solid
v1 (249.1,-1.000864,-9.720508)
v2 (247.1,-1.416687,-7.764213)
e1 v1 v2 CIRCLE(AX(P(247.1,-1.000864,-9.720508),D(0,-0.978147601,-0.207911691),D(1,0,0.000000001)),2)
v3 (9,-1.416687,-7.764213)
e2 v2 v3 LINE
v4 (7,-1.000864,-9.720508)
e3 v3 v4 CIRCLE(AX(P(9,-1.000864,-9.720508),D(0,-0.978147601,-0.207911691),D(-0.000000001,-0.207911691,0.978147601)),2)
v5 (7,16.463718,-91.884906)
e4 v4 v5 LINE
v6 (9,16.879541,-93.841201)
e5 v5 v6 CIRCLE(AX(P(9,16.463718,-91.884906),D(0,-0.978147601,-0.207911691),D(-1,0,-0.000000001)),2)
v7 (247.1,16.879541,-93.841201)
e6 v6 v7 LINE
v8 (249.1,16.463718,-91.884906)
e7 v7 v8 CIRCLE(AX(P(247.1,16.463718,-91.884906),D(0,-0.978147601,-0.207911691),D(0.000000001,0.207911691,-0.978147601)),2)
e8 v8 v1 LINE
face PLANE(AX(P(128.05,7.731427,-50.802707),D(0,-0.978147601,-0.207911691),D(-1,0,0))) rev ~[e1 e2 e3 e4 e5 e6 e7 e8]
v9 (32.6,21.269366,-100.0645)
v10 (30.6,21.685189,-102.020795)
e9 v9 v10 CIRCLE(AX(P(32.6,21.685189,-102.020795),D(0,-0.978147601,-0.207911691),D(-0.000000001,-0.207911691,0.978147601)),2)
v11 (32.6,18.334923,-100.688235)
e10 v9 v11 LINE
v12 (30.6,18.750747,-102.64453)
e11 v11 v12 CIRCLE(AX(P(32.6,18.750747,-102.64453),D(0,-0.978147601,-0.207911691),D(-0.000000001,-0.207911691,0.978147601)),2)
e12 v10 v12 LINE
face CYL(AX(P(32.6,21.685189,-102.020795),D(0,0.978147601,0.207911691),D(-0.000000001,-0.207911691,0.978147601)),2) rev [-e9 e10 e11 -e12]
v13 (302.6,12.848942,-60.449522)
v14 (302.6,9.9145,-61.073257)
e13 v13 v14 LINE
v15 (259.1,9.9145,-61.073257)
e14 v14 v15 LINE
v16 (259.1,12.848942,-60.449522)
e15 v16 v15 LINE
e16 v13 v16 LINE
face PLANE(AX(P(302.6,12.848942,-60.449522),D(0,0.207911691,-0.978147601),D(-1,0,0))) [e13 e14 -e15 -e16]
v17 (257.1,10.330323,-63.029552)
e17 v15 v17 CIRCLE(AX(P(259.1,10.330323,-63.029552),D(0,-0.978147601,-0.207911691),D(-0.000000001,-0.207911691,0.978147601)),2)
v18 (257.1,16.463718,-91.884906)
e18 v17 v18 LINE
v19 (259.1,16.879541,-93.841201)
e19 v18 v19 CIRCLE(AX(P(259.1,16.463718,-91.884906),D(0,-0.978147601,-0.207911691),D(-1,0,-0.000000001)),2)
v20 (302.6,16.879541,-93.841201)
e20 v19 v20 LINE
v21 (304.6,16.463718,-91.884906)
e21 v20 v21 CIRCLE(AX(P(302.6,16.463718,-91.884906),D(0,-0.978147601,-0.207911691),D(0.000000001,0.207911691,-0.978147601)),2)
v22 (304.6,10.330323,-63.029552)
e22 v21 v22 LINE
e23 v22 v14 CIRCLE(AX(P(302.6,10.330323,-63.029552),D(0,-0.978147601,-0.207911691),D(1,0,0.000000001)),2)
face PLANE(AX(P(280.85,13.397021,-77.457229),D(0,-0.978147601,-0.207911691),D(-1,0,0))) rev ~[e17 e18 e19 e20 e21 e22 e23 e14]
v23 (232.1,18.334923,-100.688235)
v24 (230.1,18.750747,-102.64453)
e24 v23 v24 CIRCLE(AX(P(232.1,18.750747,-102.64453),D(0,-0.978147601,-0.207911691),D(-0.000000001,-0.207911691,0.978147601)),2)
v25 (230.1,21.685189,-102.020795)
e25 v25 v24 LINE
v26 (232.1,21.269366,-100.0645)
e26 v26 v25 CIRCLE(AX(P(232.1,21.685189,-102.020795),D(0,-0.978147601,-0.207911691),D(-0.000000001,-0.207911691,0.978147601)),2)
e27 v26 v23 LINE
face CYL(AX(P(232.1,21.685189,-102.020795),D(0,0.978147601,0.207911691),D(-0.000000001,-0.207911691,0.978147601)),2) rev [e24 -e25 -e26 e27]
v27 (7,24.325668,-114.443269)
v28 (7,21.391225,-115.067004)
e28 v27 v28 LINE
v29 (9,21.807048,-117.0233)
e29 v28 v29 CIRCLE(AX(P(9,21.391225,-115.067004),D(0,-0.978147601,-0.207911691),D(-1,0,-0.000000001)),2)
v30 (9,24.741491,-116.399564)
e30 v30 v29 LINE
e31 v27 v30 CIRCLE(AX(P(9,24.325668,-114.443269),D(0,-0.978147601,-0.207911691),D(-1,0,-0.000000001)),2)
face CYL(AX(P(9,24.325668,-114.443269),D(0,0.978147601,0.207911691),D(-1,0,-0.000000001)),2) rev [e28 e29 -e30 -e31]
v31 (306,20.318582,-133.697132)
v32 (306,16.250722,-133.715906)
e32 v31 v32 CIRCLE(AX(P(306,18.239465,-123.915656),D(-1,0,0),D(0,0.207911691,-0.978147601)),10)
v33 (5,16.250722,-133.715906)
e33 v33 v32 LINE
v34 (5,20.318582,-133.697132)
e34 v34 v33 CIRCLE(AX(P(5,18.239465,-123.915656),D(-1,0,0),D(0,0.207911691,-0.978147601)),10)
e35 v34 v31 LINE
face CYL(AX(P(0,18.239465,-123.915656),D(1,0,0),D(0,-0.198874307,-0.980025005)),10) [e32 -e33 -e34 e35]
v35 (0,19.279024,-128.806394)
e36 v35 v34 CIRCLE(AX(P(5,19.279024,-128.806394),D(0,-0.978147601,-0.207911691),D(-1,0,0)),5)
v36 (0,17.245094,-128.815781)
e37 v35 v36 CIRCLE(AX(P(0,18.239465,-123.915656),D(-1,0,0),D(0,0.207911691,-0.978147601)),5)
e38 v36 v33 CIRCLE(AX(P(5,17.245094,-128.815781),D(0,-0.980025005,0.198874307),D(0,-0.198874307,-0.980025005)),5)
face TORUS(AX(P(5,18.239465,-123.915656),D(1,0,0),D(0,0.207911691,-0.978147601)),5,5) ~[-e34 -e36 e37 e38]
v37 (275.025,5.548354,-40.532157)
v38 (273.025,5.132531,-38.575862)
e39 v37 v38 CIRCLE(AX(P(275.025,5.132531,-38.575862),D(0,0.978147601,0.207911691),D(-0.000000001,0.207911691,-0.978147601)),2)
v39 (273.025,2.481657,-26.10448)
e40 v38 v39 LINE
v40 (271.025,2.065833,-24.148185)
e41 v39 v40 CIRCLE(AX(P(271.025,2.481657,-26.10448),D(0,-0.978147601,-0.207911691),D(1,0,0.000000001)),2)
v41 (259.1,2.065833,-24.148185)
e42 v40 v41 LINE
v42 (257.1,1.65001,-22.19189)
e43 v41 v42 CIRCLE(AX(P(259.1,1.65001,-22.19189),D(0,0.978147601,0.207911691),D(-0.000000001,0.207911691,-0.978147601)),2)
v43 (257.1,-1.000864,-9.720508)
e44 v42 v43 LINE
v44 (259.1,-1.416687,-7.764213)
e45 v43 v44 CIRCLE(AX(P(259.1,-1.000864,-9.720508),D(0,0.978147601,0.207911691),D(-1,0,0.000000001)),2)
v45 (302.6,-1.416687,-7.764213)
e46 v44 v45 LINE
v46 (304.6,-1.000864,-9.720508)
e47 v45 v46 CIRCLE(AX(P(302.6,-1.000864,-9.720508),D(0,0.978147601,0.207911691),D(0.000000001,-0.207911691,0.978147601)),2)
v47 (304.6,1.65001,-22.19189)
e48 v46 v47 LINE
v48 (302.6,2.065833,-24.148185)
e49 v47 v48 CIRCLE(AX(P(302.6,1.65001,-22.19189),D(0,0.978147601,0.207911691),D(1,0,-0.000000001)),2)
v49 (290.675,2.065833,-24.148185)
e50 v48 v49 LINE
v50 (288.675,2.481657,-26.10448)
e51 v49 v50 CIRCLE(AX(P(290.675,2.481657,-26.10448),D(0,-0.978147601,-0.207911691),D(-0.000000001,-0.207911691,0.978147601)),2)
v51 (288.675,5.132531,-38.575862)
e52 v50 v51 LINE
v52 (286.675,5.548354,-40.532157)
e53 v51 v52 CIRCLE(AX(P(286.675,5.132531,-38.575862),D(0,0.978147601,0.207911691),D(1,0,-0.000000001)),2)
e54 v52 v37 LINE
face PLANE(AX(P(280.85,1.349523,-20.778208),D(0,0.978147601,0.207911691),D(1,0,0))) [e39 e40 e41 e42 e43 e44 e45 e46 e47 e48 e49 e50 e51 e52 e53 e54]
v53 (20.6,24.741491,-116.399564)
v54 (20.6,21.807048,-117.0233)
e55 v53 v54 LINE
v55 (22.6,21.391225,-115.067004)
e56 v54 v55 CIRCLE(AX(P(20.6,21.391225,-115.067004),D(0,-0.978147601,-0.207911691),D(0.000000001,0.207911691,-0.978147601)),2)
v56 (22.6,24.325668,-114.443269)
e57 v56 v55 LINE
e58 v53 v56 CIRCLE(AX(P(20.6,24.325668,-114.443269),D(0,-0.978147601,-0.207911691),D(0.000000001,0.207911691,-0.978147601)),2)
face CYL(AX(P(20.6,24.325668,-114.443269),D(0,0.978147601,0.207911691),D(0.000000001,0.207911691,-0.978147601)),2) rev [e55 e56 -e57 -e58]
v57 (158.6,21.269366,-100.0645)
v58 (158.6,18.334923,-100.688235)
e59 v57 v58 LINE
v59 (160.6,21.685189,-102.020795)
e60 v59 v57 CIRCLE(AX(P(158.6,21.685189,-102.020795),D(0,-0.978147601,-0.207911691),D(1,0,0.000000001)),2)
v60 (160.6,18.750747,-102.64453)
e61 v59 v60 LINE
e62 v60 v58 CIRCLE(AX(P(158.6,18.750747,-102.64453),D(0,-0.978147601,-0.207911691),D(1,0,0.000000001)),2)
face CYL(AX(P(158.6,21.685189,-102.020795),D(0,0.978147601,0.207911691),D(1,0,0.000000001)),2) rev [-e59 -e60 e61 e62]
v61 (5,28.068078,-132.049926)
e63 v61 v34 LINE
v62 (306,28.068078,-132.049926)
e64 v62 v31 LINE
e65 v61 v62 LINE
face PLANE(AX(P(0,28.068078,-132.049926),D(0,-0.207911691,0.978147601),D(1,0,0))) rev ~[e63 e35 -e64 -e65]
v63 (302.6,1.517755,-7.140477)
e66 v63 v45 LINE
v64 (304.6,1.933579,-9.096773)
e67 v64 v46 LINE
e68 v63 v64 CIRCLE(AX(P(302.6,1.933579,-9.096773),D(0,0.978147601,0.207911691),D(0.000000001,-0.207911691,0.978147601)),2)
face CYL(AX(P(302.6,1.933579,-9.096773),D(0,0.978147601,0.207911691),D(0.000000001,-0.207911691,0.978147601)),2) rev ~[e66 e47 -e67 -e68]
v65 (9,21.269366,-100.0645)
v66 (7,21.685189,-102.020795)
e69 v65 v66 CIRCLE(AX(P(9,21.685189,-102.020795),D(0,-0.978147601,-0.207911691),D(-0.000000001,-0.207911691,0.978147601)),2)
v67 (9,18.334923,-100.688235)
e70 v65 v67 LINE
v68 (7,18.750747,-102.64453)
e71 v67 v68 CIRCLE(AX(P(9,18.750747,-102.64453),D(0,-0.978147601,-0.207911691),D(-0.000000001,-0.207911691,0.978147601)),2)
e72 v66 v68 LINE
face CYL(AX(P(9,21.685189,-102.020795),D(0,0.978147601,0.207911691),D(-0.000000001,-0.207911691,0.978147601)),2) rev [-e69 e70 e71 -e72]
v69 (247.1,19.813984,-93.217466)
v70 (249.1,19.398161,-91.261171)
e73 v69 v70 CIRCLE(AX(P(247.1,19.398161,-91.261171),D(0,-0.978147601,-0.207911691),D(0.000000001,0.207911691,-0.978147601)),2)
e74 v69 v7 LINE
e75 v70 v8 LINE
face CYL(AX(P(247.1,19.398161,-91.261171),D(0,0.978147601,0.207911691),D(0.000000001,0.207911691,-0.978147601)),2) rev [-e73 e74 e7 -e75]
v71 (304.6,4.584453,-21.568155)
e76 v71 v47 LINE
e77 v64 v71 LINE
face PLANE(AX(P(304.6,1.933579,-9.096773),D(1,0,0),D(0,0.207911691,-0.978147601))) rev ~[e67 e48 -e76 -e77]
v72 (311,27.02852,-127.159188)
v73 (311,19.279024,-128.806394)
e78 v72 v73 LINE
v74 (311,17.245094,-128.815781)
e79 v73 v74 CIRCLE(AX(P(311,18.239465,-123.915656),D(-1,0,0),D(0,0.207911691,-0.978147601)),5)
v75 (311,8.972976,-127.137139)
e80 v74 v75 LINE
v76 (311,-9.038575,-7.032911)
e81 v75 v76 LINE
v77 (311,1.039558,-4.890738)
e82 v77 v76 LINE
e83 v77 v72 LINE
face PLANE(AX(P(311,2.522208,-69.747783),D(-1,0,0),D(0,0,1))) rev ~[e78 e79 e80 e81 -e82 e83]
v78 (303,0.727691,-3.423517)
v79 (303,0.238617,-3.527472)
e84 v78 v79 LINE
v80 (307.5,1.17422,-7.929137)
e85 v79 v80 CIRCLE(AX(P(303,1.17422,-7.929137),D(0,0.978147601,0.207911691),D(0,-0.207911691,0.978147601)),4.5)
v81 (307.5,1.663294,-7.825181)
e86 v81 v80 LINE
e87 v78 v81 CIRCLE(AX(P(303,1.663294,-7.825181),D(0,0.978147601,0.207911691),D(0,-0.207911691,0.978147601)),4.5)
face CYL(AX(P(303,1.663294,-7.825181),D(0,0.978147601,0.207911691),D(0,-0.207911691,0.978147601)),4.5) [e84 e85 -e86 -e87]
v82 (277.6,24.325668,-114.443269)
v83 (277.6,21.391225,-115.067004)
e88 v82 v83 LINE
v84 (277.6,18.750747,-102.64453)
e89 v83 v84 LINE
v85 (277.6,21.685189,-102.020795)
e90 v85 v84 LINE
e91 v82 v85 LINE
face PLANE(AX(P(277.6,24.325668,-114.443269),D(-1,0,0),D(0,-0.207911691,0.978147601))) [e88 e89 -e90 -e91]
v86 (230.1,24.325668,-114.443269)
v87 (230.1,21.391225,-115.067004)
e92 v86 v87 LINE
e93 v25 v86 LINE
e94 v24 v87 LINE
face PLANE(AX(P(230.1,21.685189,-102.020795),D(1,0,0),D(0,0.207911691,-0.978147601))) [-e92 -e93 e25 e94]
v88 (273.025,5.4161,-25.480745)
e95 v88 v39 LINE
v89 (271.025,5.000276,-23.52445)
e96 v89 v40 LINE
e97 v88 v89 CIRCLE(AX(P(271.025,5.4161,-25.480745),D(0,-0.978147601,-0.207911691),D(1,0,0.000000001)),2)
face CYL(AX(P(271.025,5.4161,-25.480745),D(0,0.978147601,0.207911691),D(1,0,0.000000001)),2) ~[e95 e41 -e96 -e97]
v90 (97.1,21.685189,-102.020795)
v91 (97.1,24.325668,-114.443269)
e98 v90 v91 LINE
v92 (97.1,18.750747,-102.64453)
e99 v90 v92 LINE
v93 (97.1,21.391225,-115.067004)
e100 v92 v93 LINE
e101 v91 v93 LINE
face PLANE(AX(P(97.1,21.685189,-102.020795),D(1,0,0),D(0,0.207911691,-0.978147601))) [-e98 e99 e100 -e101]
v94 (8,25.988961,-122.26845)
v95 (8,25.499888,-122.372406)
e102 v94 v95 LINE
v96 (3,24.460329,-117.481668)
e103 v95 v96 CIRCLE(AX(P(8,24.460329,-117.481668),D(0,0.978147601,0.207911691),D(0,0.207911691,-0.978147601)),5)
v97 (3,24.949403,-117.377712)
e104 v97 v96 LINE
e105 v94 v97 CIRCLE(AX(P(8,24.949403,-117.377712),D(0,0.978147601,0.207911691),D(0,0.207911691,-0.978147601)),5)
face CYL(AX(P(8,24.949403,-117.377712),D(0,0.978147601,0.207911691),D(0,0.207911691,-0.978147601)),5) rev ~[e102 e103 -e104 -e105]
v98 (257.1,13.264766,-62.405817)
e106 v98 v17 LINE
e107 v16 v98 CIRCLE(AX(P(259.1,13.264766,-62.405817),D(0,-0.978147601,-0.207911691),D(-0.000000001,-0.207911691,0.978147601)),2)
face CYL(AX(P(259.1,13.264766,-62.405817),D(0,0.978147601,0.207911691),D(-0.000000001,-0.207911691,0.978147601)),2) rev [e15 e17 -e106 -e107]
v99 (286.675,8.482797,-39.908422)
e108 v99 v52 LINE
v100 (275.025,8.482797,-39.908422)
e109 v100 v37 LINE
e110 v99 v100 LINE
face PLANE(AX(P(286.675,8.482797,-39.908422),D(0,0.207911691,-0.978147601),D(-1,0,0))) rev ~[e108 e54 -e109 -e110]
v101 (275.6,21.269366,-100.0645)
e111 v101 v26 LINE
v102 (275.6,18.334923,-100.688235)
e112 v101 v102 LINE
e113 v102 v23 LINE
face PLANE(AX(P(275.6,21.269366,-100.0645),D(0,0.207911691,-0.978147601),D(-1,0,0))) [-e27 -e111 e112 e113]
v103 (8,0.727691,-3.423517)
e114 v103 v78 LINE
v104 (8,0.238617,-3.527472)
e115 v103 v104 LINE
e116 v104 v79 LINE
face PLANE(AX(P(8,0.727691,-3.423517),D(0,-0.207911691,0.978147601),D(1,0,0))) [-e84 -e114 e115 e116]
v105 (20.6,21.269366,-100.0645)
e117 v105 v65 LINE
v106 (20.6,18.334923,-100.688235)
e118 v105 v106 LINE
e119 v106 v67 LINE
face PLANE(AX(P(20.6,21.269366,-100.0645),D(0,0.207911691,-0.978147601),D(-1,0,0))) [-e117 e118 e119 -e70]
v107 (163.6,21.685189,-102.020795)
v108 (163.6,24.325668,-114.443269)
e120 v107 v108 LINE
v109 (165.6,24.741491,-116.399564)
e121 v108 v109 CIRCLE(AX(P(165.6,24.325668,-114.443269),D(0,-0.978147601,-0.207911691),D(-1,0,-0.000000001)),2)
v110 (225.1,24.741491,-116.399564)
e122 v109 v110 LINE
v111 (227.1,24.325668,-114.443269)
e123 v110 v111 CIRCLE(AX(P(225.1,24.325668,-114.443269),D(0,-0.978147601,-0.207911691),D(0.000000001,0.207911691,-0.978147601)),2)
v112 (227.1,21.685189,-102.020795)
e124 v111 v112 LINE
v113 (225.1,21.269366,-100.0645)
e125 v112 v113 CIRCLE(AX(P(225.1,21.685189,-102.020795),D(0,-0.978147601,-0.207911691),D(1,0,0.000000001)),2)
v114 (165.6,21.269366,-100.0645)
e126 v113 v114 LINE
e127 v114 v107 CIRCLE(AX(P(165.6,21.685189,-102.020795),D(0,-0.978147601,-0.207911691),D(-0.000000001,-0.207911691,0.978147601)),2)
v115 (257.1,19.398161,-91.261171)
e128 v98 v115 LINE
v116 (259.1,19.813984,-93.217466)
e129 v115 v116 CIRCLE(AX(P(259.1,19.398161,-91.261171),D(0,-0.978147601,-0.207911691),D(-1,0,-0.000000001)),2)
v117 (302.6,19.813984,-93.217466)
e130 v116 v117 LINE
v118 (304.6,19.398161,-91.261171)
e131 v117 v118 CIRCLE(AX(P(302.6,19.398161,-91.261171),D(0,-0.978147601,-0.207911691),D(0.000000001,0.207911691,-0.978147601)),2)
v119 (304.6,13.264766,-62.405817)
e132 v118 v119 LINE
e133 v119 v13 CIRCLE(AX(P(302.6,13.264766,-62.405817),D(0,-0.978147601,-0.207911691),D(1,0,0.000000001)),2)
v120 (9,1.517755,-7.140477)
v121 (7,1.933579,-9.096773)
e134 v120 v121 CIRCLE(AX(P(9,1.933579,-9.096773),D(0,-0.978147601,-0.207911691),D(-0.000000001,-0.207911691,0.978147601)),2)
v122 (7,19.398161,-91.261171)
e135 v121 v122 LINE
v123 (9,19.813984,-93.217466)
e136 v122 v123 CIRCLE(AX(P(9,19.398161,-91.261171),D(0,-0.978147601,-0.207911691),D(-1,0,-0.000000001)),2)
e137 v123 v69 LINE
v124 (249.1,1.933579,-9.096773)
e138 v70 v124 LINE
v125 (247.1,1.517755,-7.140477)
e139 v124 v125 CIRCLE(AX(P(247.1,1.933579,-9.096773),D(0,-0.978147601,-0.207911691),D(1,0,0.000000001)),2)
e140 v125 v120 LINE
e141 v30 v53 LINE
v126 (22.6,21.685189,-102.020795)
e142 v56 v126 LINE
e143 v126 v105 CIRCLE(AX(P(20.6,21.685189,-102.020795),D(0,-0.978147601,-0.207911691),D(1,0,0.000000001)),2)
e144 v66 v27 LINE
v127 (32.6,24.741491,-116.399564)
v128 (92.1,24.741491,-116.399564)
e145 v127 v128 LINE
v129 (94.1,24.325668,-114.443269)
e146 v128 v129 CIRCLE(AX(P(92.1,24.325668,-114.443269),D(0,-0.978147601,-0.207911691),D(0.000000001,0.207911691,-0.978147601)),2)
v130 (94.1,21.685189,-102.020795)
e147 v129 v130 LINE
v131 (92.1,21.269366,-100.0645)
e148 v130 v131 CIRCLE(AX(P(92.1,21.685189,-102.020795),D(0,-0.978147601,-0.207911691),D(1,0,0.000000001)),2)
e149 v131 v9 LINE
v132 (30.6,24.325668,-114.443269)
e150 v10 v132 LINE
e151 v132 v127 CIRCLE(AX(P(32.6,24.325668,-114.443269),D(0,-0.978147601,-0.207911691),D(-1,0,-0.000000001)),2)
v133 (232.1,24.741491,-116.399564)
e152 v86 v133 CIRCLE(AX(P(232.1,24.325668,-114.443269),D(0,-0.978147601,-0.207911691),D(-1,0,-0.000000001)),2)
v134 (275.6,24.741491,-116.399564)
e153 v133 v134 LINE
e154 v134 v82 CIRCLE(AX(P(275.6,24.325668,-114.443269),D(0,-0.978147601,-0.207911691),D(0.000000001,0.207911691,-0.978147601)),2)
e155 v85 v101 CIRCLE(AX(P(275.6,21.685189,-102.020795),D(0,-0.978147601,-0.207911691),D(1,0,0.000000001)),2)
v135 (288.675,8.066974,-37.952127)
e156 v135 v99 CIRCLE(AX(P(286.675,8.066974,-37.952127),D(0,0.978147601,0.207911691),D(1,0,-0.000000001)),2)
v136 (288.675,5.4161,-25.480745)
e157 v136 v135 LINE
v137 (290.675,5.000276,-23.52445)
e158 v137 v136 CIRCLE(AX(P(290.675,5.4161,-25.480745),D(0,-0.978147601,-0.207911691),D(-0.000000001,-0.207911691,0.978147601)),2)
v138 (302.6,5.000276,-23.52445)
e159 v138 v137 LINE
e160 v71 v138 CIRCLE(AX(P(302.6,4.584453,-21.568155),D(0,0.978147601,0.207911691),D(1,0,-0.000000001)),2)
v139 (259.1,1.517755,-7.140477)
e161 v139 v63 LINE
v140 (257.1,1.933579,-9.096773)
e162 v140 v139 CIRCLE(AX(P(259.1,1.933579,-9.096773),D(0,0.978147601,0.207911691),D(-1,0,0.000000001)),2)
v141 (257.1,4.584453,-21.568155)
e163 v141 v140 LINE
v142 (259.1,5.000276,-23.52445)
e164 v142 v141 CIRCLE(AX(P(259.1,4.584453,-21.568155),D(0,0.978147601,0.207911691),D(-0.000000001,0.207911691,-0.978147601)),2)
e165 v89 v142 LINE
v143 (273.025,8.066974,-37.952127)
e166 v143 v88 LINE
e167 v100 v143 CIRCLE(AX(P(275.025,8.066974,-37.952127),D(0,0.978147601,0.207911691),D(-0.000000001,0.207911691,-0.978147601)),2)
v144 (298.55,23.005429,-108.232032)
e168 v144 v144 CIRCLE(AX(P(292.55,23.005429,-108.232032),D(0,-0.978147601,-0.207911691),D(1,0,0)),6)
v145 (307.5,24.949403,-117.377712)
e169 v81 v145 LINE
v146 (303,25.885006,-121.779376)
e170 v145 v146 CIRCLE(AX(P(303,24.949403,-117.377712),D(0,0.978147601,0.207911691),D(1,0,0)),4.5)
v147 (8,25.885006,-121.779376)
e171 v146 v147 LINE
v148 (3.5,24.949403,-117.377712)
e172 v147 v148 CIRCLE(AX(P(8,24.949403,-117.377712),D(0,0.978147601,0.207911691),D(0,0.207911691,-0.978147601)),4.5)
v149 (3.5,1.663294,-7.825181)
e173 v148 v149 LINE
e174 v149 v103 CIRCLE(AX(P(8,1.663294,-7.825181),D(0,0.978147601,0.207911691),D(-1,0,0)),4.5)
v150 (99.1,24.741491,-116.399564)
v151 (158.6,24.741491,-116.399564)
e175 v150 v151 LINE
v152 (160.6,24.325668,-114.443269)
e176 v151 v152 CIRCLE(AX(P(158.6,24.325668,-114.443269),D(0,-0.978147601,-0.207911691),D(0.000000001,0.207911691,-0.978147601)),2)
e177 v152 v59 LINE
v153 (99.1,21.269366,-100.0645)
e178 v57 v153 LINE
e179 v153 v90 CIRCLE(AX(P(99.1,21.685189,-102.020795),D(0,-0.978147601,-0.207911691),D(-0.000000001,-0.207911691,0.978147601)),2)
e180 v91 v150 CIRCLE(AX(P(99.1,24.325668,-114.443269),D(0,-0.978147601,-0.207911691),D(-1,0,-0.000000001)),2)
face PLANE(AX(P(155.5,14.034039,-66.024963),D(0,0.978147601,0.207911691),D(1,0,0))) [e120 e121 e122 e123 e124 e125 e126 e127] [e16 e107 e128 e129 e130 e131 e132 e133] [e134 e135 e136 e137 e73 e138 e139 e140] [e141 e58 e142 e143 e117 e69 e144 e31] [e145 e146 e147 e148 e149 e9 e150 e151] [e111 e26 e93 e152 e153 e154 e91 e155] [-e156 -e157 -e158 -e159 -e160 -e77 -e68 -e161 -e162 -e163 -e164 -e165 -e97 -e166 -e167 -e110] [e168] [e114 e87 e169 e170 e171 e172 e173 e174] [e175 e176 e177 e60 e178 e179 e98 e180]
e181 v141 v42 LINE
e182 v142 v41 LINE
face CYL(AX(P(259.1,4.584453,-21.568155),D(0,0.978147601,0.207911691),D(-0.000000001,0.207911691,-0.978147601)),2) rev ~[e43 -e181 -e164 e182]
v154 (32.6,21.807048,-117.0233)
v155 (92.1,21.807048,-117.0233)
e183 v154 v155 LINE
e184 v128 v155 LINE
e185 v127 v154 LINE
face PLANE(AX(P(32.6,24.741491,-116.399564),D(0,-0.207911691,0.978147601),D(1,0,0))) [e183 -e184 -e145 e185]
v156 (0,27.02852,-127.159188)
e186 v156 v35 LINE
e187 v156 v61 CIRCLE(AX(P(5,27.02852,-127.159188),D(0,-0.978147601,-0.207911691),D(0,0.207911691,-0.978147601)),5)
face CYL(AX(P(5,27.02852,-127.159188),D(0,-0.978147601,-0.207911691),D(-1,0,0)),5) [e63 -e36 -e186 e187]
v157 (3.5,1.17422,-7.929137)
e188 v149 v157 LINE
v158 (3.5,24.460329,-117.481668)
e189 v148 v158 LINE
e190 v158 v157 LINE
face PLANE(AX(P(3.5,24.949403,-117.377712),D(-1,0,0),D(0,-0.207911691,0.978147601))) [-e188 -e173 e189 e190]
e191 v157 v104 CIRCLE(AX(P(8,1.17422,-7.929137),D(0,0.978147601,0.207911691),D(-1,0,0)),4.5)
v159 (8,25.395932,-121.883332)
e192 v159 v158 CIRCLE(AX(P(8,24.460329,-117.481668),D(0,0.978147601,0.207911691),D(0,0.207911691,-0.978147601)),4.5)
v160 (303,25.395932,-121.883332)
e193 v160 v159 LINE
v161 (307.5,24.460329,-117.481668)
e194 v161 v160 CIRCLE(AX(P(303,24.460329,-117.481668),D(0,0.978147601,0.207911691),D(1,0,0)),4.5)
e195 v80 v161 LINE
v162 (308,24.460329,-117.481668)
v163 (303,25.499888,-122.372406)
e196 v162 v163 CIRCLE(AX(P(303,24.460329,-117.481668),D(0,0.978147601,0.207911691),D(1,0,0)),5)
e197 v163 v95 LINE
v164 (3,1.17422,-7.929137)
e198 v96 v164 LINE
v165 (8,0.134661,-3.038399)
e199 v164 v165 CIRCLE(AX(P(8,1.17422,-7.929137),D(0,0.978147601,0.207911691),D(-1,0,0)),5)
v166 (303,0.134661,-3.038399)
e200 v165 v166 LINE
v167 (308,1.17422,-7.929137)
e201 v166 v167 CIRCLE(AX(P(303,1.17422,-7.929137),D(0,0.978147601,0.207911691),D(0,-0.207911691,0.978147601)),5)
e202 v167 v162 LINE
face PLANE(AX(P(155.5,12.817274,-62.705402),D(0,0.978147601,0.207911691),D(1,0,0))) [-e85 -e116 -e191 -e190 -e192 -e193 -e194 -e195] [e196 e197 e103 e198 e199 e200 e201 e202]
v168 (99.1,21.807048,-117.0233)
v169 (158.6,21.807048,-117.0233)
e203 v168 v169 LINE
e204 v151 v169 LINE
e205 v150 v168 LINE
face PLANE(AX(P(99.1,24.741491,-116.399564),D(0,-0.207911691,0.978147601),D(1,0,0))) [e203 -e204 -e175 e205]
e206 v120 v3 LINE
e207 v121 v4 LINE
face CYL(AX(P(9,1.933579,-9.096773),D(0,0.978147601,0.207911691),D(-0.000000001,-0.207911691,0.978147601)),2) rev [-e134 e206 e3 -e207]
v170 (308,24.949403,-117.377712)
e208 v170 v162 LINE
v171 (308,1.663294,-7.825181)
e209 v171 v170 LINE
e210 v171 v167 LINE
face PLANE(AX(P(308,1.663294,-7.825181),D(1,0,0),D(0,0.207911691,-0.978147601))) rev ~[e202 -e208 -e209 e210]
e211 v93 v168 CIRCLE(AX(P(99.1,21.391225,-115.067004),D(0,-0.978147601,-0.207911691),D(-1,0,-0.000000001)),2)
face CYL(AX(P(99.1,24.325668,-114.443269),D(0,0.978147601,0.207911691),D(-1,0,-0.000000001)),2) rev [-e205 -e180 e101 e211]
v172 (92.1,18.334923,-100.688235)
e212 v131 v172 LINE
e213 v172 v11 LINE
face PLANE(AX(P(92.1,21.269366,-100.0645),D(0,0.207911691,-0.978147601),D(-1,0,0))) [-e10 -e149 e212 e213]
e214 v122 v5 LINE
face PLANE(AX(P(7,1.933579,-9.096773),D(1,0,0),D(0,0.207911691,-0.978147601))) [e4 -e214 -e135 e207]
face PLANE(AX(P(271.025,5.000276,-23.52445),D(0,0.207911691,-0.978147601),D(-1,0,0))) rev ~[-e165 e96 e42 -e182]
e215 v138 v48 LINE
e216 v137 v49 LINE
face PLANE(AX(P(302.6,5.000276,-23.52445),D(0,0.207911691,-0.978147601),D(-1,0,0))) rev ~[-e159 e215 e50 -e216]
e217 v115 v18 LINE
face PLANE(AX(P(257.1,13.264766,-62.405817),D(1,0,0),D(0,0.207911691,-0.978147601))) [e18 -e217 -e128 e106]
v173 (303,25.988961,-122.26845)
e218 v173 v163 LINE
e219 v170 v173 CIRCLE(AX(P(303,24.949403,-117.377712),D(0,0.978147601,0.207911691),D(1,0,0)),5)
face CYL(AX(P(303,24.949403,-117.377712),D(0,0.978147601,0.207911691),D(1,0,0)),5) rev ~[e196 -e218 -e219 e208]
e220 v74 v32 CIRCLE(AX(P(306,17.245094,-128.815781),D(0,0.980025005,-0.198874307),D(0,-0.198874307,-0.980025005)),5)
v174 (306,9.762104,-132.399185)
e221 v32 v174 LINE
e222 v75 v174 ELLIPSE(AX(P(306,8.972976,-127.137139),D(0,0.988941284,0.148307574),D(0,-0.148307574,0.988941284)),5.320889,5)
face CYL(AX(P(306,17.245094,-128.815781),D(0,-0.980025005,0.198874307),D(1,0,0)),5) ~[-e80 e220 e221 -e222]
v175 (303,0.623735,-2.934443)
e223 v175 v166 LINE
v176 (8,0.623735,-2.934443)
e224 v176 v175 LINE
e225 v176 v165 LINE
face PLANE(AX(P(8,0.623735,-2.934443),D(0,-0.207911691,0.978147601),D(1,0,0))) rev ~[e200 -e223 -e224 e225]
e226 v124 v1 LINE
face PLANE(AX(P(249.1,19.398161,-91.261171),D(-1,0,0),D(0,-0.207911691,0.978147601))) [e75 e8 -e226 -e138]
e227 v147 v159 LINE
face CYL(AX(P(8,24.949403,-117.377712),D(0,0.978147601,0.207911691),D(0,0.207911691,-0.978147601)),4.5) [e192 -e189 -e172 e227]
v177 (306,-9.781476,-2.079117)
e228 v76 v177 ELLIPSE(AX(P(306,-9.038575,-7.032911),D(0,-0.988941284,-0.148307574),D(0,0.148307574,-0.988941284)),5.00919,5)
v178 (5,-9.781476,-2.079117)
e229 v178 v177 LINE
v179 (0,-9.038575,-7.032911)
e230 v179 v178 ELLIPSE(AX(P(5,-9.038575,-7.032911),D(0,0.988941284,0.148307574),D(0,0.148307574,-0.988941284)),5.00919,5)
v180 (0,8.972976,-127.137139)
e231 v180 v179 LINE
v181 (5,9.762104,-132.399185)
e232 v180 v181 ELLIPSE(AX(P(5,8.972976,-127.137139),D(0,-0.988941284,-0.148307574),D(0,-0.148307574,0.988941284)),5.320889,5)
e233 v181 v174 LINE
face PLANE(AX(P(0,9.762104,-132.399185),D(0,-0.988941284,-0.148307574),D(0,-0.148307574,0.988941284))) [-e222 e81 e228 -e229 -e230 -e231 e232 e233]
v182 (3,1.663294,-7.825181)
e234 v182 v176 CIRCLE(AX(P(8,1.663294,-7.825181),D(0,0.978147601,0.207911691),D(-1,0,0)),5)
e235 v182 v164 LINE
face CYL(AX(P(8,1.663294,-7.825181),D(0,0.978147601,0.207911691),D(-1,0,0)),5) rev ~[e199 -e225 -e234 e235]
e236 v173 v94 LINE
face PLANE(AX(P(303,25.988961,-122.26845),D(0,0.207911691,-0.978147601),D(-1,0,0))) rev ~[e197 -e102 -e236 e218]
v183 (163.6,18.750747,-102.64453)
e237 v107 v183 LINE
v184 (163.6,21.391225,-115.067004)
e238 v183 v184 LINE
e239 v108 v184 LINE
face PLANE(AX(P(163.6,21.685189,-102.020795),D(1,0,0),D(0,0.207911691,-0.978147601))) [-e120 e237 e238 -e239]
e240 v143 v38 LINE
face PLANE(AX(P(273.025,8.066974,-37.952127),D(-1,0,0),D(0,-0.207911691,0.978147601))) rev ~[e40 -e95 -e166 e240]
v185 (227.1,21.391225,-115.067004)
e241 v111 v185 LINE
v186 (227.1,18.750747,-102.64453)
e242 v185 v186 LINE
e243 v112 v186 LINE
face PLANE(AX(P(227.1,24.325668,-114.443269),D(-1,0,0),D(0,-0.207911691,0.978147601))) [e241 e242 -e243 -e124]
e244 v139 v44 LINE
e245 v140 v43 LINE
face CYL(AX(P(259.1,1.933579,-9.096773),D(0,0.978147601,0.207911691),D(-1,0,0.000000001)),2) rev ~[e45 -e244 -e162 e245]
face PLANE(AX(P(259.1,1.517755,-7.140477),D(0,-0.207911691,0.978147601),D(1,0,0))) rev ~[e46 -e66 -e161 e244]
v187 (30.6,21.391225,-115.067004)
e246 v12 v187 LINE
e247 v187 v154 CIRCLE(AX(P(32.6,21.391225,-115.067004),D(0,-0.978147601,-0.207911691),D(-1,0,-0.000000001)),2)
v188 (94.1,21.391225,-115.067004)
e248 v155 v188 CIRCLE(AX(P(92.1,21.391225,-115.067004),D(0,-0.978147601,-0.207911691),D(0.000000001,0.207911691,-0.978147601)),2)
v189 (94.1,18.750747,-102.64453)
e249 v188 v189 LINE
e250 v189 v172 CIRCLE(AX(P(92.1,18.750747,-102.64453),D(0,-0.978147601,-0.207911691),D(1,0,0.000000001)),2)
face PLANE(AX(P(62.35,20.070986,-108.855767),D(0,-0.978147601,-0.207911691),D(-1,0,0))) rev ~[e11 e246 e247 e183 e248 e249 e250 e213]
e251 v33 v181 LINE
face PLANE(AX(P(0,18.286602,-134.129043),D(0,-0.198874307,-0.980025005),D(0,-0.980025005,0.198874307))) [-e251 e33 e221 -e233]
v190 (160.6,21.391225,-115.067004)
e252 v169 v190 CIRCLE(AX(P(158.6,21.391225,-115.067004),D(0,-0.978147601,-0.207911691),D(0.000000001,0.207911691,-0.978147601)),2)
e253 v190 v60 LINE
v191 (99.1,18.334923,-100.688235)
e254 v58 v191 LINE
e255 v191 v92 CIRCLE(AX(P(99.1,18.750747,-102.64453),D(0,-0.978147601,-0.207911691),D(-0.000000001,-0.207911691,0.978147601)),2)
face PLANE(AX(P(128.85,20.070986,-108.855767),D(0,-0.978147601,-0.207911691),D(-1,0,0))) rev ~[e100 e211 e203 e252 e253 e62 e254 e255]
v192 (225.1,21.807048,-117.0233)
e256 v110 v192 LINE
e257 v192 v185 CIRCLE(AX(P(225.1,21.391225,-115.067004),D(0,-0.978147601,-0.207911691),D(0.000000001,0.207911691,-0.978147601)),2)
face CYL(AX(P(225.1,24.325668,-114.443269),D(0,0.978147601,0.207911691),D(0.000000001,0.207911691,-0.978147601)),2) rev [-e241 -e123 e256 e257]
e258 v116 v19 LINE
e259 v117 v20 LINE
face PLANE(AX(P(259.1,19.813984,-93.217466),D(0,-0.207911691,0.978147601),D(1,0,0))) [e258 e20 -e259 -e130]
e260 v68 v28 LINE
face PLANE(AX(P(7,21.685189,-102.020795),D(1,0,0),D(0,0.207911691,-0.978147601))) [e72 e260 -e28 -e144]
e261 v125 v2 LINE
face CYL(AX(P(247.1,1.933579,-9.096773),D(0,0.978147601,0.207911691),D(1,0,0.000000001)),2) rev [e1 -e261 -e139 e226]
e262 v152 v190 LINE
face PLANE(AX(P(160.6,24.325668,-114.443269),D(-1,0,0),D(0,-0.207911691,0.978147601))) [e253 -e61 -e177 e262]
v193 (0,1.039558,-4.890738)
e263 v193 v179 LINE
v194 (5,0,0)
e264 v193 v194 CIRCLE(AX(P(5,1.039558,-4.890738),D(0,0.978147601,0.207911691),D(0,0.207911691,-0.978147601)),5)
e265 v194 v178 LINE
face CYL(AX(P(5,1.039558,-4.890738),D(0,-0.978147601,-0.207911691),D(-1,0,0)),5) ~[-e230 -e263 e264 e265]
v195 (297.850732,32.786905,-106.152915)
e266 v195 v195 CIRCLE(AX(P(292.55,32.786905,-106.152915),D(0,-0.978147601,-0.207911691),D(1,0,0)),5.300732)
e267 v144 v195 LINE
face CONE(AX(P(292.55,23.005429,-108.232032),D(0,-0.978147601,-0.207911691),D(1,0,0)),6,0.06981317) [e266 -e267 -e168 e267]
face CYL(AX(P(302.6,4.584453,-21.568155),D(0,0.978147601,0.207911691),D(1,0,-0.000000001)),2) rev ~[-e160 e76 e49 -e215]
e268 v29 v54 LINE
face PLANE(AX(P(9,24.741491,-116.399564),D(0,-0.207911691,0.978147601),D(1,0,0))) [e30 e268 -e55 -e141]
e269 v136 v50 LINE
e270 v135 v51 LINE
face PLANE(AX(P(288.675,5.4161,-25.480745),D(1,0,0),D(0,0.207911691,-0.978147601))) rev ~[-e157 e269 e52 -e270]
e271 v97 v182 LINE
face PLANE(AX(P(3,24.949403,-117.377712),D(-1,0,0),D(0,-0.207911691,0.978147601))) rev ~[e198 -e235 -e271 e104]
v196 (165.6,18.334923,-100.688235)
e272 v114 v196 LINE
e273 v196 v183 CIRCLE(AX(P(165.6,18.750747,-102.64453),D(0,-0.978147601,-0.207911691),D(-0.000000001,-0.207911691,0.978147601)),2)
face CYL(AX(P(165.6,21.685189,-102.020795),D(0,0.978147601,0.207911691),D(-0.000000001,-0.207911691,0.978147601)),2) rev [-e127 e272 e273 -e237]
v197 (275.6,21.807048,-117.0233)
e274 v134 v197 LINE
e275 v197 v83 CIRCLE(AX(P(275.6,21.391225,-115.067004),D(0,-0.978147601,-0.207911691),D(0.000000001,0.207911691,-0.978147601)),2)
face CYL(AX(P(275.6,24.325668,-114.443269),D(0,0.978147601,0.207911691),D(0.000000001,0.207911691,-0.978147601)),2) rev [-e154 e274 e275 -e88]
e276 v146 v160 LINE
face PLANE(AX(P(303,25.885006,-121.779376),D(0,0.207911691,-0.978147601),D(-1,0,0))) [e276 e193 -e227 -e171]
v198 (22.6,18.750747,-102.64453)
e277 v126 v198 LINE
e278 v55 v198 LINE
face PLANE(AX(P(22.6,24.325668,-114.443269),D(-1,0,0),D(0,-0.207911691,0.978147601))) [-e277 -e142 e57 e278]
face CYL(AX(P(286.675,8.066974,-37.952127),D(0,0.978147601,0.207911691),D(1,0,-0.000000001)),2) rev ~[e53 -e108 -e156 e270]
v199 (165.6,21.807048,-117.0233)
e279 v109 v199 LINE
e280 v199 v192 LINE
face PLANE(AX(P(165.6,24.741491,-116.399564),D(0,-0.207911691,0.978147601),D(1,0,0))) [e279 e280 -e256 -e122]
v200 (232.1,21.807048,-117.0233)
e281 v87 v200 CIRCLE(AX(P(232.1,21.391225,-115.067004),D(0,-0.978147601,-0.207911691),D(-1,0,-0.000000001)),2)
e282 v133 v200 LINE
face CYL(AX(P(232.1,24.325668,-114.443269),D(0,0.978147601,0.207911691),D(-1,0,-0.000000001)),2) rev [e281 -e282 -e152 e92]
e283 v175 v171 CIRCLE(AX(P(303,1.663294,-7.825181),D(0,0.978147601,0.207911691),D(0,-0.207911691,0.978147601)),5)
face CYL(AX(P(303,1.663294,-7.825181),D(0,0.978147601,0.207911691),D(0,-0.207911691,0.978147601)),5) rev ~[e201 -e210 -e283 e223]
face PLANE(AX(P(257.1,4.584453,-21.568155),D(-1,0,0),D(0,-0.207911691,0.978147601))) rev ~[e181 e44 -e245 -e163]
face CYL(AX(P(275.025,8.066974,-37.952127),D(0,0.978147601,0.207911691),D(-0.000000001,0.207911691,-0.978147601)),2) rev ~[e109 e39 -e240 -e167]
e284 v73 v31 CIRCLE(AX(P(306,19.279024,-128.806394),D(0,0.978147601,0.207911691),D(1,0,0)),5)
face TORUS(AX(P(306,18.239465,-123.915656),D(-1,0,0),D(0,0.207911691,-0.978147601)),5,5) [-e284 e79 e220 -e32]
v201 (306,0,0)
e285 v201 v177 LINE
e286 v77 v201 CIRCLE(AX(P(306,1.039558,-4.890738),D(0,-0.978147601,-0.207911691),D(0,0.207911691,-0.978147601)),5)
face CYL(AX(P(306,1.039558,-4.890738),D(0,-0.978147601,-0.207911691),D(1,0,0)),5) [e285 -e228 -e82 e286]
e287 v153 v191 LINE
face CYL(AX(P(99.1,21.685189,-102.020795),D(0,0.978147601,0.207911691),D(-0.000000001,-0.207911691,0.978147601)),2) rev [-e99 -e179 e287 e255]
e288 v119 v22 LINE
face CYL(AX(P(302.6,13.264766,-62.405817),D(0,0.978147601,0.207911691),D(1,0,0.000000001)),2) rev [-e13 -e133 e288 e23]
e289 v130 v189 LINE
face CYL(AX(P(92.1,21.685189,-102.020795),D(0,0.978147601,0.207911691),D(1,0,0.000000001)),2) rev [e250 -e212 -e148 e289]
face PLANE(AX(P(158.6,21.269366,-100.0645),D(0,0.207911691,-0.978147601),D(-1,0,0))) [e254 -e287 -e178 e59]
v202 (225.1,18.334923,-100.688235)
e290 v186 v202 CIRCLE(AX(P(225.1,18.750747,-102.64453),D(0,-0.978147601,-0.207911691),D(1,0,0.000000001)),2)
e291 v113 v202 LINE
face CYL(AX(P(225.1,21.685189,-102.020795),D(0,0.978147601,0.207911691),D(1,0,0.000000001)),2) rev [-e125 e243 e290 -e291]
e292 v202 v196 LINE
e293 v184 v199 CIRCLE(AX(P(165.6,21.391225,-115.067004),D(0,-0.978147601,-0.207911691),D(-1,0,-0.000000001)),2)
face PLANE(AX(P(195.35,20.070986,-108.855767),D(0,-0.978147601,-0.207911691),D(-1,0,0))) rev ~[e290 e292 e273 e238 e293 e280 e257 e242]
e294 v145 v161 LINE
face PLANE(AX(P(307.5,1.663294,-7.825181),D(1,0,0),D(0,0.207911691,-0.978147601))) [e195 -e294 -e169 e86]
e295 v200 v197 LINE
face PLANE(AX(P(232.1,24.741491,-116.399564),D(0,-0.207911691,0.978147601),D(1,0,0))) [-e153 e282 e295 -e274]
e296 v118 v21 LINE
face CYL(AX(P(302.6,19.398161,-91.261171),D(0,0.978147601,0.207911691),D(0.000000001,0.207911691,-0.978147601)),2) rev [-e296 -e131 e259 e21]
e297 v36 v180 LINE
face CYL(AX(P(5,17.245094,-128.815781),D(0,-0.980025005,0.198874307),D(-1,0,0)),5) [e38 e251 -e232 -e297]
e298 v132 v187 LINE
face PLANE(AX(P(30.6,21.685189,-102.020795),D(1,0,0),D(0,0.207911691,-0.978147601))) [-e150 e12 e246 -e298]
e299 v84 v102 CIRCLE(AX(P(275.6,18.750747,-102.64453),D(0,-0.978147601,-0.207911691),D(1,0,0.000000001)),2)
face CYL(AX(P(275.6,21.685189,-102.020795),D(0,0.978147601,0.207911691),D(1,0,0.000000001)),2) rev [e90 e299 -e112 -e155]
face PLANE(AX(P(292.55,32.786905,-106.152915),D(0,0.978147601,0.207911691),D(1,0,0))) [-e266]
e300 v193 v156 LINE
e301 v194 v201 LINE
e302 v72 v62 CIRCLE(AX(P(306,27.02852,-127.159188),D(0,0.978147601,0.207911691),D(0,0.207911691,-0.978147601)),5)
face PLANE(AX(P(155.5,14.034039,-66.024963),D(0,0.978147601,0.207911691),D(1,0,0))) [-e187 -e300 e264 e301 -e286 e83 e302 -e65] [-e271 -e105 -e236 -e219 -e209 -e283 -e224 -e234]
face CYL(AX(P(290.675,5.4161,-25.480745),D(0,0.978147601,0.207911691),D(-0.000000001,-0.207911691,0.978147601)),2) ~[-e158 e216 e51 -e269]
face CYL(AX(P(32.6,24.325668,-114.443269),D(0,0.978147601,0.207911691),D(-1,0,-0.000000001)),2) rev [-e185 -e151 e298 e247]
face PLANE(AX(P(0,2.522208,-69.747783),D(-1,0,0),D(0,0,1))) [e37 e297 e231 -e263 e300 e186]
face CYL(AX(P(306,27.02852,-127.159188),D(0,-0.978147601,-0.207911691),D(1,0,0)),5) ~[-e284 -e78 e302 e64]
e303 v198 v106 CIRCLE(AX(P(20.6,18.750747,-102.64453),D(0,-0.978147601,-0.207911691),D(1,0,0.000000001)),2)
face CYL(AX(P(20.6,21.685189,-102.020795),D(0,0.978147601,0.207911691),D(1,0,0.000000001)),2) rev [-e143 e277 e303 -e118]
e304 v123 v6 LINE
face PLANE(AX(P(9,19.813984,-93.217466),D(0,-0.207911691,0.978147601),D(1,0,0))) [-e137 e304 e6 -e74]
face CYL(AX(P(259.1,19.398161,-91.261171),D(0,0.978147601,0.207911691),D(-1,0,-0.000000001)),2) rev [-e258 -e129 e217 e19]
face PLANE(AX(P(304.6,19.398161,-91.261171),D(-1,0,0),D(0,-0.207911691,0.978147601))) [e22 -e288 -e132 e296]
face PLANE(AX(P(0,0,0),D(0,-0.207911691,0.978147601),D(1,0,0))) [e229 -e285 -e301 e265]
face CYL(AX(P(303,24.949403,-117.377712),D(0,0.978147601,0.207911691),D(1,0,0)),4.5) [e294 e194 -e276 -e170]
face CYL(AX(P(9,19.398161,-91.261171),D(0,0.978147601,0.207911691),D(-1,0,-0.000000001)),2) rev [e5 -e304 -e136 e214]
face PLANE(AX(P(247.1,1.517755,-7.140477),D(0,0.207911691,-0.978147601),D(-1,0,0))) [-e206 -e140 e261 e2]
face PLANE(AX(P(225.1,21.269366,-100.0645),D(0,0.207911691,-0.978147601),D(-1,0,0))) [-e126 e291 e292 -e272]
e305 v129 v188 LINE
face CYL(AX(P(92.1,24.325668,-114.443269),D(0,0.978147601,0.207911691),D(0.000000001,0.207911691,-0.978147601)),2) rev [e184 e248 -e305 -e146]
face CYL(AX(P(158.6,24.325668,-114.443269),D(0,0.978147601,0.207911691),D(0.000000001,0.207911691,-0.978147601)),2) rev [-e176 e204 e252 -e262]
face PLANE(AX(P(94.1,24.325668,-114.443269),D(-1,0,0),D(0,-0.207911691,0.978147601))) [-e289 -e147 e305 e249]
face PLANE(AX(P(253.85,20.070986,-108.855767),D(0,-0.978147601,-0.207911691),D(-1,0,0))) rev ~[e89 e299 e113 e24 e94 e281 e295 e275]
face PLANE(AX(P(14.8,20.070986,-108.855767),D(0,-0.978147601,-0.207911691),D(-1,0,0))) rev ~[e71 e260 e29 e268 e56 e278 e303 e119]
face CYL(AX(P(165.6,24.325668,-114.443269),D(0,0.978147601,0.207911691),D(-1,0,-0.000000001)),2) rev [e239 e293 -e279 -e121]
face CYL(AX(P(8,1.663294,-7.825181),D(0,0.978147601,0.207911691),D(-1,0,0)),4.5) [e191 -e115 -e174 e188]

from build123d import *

# Parameters (mm, degrees)
SKETCH2_W               = 311
SKETCH2_H               = 135
BOSS_EXTRUDE1_DEPTH     = 10
BOSS_EXTRUDE2_DEPTH     = 311
FILLET1_R               = 10
FILLET2_R               = 5
CUT_EXTRUDE_THIN1_DEPTH = 0.5
CUT_EXTRUDE1_DEPTH      = 3
SKETCH8_R               = 6
BOSS_EXTRUDE3_DEPTH     = 10
BOSS_EXTRUDE3_TAPER     = 4


with BuildPart() as part:
    # Sketch2 → Boss-Extrude1 (new body)
    with BuildSketch(Plane(origin=(0, 0, 0), x_dir=(1, 0, 0), z_dir=(0, 0.9781476007338056, 0.2079116908177598))):
        with Locations((155.5, 67.5)):
            Rectangle(SKETCH2_W, SKETCH2_H)
    extrude(amount=-BOSS_EXTRUDE1_DEPTH)

    # Sketch5 → Boss-Extrude2 (add)
    with BuildSketch(Plane.ZY):
        Polygon((-134.129043007, 18.286602253), (-132.399185443, 9.762104074), (-2.079116908, -9.781476007), align=None)
    extrude(amount=-BOSS_EXTRUDE2_DEPTH)

    # Fillet1
    fillet1_edges = [part.edges().sort_by_distance(p)[0] for p in [
        (155.5, 18.286602253, -134.129043007),
    ]]
    fillet(fillet1_edges, radius=FILLET1_R)

    # Fillet2
    fillet2_edges = [part.edges().sort_by_distance(p)[0] for p in [
        (311, 24.193330233, -132.873529217),
        (0, 24.193330233, -132.873529217),
        (0, 13.006413151, -133.057545909),
        (0, 18.285616937, -133.915549829),
        (311, 13.006413151, -133.057545909),
        (311, 18.285616937, -133.915549829),
        (311, -4.890738004, -1.039558454),
        (0, -4.890738004, -1.039558454),
    ]]
    fillet(fillet2_edges, radius=FILLET2_R)

    # Sketch6 → Cut-Extrude-Thin1 (cut)
    # profile 1 of 2: a face of its own
    with BuildSketch(Plane(origin=(0, 0, 0), x_dir=(1, 0, 0), z_dir=(0, 0.9781476007338056, 0.20791169081775976))):
        with BuildLine():
            Line((3, 120), (3, 8))
            ThreePointArc((3, 8), (4.464466094, 4.464466094), (8, 3))
            Line((8, 3), (303, 3))
            ThreePointArc((303, 3), (306.535533906, 4.464466094), (308, 8))
            Line((308, 8), (308, 120))
            ThreePointArc((308, 120), (306.535533906, 123.535533906), (303, 125))
            Line((303, 125), (8, 125))
            ThreePointArc((8, 125), (4.464466094, 123.535533906), (3, 120))
        make_face()
        with BuildLine():
            Line((3.5, 120), (3.5, 8))
            ThreePointArc((3.5, 8), (4.818019485, 4.818019485), (8, 3.5))
            Line((8, 3.5), (303, 3.5))
            ThreePointArc((303, 3.5), (306.181980515, 4.818019485), (307.5, 8))
            Line((307.5, 8), (307.5, 120))
            ThreePointArc((307.5, 120), (306.181980515, 123.181980515), (303, 124.5))
            Line((303, 124.5), (8, 124.5))
            ThreePointArc((8, 124.5), (4.818019485, 123.181980515), (3.5, 120))
        make_face(mode=Mode.SUBTRACT)
    # profile 2 of 2: a face of its own
    with BuildSketch(Plane(origin=(0, 0, 0), x_dir=(1, 0, 0), z_dir=(0, 0.9781476007338056, 0.20791169081775976))):
        with BuildLine():
            ThreePointArc((15, 10), (11.464466094, 11.464466094), (10, 15))
            Line((10, 15), (9.5, 15))
            ThreePointArc((9.5, 15), (11.110912703, 11.110912703), (15, 9.5))
            Line((15, 9.5), (15, 10))
        make_face()
    extrude(amount=-CUT_EXTRUDE_THIN1_DEPTH, mode=Mode.SUBTRACT)

    # Sketch7 → Cut-Extrude1 (cut)
    with BuildSketch(Plane(origin=(0, 0, 0), x_dir=(1, 0, 0), z_dir=(0, 0.9781476007338056, 0.20791169081775976))):
        with BuildLine():
            Line((9, 119), (20.6, 119))
            ThreePointArc((20.6, 119), (22.014213562, 118.414213562), (22.6, 117))
            Line((22.6, 117), (22.6, 104.3))
            ThreePointArc((22.6, 104.3), (22.014213562, 102.885786438), (20.6, 102.3))
            Line((20.6, 102.3), (9, 102.3))
            ThreePointArc((9, 102.3), (7.585786438, 102.885786438), (7, 104.3))
            Line((7, 104.3), (7, 117))
            ThreePointArc((7, 117), (7.585786438, 118.414213562), (9, 119))
        make_face()
        with BuildLine():
            Line((302.6, 24.05), (290.675, 24.05))
            ThreePointArc((290.675, 24.05), (289.260786438, 24.635786438), (288.675, 26.05))
            Line((288.675, 26.05), (288.675, 38.8))
            ThreePointArc((288.675, 38.8), (288.089213562, 40.214213562), (286.675, 40.8))
            Line((286.675, 40.8), (275.025, 40.8))
            ThreePointArc((275.025, 40.8), (273.610786438, 40.214213562), (273.025, 38.8))
            Line((273.025, 38.8), (273.025, 26.05))
            ThreePointArc((273.025, 26.05), (272.439213562, 24.635786438), (271.025, 24.05))
            Line((271.025, 24.05), (259.1, 24.05))
            ThreePointArc((259.1, 24.05), (257.685786438, 23.464213562), (257.1, 22.05))
            Line((257.1, 22.05), (257.1, 9.3))
            ThreePointArc((257.1, 9.3), (257.685786438, 7.885786438), (259.1, 7.3))
            Line((259.1, 7.3), (302.6, 7.3))
            ThreePointArc((302.6, 7.3), (304.014213562, 7.885786438), (304.6, 9.3))
            Line((304.6, 9.3), (304.6, 22.05))
            ThreePointArc((304.6, 22.05), (304.014213562, 23.464213562), (302.6, 24.05))
        make_face()
        with BuildLine():
            Line((32.6, 119), (92.1, 119))
            ThreePointArc((92.1, 119), (93.514213562, 118.414213562), (94.1, 117))
            Line((94.1, 117), (94.1, 104.3))
            ThreePointArc((94.1, 104.3), (93.514213562, 102.885786438), (92.1, 102.3))
            Line((92.1, 102.3), (32.6, 102.3))
            ThreePointArc((32.6, 102.3), (31.185786438, 102.885786438), (30.6, 104.3))
            Line((30.6, 104.3), (30.6, 117))
            ThreePointArc((30.6, 117), (31.185786438, 118.414213562), (32.6, 119))
        make_face()
        with BuildLine():
            Line((99.1, 119), (158.6, 119))
            ThreePointArc((158.6, 119), (160.014213562, 118.414213562), (160.6, 117))
            Line((160.6, 117), (160.6, 104.3))
            ThreePointArc((160.6, 104.3), (160.014213562, 102.885786438), (158.6, 102.3))
            Line((158.6, 102.3), (99.1, 102.3))
            ThreePointArc((99.1, 102.3), (97.685786438, 102.885786438), (97.1, 104.3))
            Line((97.1, 104.3), (97.1, 117))
            ThreePointArc((97.1, 117), (97.685786438, 118.414213562), (99.1, 119))
        make_face()
        with BuildLine():
            Line((165.6, 119), (225.1, 119))
            ThreePointArc((225.1, 119), (226.514213562, 118.414213562), (227.1, 117))
            Line((227.1, 117), (227.1, 104.3))
            ThreePointArc((227.1, 104.3), (226.514213562, 102.885786438), (225.1, 102.3))
            Line((225.1, 102.3), (165.6, 102.3))
            ThreePointArc((165.6, 102.3), (164.185786438, 102.885786438), (163.6, 104.3))
            Line((163.6, 104.3), (163.6, 117))
            ThreePointArc((163.6, 117), (164.185786438, 118.414213562), (165.6, 119))
        make_face()
        with BuildLine():
            Line((232.1, 119), (275.6, 119))
            ThreePointArc((275.6, 119), (277.014213562, 118.414213562), (277.6, 117))
            Line((277.6, 117), (277.6, 104.3))
            ThreePointArc((277.6, 104.3), (277.014213562, 102.885786438), (275.6, 102.3))
            Line((275.6, 102.3), (232.1, 102.3))
            ThreePointArc((232.1, 102.3), (230.685786438, 102.885786438), (230.1, 104.3))
            Line((230.1, 104.3), (230.1, 117))
            ThreePointArc((230.1, 117), (230.685786438, 118.414213562), (232.1, 119))
        make_face()
        with BuildLine():
            Line((9, 95.3), (247.1, 95.3))
            ThreePointArc((247.1, 95.3), (248.514213562, 94.714213562), (249.1, 93.3))
            Line((249.1, 93.3), (249.1, 9.3))
            ThreePointArc((249.1, 9.3), (248.514213562, 7.885786438), (247.1, 7.3))
            Line((247.1, 7.3), (9, 7.3))
            ThreePointArc((9, 7.3), (7.585786438, 7.885786438), (7, 9.3))
            Line((7, 9.3), (7, 93.3))
            ThreePointArc((7, 93.3), (7.585786438, 94.714213562), (9, 95.3))
        make_face()
        with BuildLine():
            Line((259.1, 95.3), (302.6, 95.3))
            ThreePointArc((302.6, 95.3), (304.014213562, 94.714213562), (304.6, 93.3))
            Line((304.6, 93.3), (304.6, 63.8))
            ThreePointArc((304.6, 63.8), (304.014213562, 62.385786438), (302.6, 61.8))
            Line((302.6, 61.8), (259.1, 61.8))
            ThreePointArc((259.1, 61.8), (257.685786438, 62.385786438), (257.1, 63.8))
            Line((257.1, 63.8), (257.1, 93.3))
            ThreePointArc((257.1, 93.3), (257.685786438, 94.714213562), (259.1, 95.3))
        make_face()
    extrude(amount=-CUT_EXTRUDE1_DEPTH, mode=Mode.SUBTRACT)

    # Sketch8 → Boss-Extrude3 (add)
    with BuildSketch(Plane(origin=(0, 0, 0), x_dir=(1, 0, 0), z_dir=(0, 0.9781476007338055, 0.20791169081775973))):
        with Locations((292.55, 110.65)):
            Circle(SKETCH8_R)
    extrude(amount=BOSS_EXTRUDE3_DEPTH, taper=BOSS_EXTRUDE3_TAPER)


solid = part.part
